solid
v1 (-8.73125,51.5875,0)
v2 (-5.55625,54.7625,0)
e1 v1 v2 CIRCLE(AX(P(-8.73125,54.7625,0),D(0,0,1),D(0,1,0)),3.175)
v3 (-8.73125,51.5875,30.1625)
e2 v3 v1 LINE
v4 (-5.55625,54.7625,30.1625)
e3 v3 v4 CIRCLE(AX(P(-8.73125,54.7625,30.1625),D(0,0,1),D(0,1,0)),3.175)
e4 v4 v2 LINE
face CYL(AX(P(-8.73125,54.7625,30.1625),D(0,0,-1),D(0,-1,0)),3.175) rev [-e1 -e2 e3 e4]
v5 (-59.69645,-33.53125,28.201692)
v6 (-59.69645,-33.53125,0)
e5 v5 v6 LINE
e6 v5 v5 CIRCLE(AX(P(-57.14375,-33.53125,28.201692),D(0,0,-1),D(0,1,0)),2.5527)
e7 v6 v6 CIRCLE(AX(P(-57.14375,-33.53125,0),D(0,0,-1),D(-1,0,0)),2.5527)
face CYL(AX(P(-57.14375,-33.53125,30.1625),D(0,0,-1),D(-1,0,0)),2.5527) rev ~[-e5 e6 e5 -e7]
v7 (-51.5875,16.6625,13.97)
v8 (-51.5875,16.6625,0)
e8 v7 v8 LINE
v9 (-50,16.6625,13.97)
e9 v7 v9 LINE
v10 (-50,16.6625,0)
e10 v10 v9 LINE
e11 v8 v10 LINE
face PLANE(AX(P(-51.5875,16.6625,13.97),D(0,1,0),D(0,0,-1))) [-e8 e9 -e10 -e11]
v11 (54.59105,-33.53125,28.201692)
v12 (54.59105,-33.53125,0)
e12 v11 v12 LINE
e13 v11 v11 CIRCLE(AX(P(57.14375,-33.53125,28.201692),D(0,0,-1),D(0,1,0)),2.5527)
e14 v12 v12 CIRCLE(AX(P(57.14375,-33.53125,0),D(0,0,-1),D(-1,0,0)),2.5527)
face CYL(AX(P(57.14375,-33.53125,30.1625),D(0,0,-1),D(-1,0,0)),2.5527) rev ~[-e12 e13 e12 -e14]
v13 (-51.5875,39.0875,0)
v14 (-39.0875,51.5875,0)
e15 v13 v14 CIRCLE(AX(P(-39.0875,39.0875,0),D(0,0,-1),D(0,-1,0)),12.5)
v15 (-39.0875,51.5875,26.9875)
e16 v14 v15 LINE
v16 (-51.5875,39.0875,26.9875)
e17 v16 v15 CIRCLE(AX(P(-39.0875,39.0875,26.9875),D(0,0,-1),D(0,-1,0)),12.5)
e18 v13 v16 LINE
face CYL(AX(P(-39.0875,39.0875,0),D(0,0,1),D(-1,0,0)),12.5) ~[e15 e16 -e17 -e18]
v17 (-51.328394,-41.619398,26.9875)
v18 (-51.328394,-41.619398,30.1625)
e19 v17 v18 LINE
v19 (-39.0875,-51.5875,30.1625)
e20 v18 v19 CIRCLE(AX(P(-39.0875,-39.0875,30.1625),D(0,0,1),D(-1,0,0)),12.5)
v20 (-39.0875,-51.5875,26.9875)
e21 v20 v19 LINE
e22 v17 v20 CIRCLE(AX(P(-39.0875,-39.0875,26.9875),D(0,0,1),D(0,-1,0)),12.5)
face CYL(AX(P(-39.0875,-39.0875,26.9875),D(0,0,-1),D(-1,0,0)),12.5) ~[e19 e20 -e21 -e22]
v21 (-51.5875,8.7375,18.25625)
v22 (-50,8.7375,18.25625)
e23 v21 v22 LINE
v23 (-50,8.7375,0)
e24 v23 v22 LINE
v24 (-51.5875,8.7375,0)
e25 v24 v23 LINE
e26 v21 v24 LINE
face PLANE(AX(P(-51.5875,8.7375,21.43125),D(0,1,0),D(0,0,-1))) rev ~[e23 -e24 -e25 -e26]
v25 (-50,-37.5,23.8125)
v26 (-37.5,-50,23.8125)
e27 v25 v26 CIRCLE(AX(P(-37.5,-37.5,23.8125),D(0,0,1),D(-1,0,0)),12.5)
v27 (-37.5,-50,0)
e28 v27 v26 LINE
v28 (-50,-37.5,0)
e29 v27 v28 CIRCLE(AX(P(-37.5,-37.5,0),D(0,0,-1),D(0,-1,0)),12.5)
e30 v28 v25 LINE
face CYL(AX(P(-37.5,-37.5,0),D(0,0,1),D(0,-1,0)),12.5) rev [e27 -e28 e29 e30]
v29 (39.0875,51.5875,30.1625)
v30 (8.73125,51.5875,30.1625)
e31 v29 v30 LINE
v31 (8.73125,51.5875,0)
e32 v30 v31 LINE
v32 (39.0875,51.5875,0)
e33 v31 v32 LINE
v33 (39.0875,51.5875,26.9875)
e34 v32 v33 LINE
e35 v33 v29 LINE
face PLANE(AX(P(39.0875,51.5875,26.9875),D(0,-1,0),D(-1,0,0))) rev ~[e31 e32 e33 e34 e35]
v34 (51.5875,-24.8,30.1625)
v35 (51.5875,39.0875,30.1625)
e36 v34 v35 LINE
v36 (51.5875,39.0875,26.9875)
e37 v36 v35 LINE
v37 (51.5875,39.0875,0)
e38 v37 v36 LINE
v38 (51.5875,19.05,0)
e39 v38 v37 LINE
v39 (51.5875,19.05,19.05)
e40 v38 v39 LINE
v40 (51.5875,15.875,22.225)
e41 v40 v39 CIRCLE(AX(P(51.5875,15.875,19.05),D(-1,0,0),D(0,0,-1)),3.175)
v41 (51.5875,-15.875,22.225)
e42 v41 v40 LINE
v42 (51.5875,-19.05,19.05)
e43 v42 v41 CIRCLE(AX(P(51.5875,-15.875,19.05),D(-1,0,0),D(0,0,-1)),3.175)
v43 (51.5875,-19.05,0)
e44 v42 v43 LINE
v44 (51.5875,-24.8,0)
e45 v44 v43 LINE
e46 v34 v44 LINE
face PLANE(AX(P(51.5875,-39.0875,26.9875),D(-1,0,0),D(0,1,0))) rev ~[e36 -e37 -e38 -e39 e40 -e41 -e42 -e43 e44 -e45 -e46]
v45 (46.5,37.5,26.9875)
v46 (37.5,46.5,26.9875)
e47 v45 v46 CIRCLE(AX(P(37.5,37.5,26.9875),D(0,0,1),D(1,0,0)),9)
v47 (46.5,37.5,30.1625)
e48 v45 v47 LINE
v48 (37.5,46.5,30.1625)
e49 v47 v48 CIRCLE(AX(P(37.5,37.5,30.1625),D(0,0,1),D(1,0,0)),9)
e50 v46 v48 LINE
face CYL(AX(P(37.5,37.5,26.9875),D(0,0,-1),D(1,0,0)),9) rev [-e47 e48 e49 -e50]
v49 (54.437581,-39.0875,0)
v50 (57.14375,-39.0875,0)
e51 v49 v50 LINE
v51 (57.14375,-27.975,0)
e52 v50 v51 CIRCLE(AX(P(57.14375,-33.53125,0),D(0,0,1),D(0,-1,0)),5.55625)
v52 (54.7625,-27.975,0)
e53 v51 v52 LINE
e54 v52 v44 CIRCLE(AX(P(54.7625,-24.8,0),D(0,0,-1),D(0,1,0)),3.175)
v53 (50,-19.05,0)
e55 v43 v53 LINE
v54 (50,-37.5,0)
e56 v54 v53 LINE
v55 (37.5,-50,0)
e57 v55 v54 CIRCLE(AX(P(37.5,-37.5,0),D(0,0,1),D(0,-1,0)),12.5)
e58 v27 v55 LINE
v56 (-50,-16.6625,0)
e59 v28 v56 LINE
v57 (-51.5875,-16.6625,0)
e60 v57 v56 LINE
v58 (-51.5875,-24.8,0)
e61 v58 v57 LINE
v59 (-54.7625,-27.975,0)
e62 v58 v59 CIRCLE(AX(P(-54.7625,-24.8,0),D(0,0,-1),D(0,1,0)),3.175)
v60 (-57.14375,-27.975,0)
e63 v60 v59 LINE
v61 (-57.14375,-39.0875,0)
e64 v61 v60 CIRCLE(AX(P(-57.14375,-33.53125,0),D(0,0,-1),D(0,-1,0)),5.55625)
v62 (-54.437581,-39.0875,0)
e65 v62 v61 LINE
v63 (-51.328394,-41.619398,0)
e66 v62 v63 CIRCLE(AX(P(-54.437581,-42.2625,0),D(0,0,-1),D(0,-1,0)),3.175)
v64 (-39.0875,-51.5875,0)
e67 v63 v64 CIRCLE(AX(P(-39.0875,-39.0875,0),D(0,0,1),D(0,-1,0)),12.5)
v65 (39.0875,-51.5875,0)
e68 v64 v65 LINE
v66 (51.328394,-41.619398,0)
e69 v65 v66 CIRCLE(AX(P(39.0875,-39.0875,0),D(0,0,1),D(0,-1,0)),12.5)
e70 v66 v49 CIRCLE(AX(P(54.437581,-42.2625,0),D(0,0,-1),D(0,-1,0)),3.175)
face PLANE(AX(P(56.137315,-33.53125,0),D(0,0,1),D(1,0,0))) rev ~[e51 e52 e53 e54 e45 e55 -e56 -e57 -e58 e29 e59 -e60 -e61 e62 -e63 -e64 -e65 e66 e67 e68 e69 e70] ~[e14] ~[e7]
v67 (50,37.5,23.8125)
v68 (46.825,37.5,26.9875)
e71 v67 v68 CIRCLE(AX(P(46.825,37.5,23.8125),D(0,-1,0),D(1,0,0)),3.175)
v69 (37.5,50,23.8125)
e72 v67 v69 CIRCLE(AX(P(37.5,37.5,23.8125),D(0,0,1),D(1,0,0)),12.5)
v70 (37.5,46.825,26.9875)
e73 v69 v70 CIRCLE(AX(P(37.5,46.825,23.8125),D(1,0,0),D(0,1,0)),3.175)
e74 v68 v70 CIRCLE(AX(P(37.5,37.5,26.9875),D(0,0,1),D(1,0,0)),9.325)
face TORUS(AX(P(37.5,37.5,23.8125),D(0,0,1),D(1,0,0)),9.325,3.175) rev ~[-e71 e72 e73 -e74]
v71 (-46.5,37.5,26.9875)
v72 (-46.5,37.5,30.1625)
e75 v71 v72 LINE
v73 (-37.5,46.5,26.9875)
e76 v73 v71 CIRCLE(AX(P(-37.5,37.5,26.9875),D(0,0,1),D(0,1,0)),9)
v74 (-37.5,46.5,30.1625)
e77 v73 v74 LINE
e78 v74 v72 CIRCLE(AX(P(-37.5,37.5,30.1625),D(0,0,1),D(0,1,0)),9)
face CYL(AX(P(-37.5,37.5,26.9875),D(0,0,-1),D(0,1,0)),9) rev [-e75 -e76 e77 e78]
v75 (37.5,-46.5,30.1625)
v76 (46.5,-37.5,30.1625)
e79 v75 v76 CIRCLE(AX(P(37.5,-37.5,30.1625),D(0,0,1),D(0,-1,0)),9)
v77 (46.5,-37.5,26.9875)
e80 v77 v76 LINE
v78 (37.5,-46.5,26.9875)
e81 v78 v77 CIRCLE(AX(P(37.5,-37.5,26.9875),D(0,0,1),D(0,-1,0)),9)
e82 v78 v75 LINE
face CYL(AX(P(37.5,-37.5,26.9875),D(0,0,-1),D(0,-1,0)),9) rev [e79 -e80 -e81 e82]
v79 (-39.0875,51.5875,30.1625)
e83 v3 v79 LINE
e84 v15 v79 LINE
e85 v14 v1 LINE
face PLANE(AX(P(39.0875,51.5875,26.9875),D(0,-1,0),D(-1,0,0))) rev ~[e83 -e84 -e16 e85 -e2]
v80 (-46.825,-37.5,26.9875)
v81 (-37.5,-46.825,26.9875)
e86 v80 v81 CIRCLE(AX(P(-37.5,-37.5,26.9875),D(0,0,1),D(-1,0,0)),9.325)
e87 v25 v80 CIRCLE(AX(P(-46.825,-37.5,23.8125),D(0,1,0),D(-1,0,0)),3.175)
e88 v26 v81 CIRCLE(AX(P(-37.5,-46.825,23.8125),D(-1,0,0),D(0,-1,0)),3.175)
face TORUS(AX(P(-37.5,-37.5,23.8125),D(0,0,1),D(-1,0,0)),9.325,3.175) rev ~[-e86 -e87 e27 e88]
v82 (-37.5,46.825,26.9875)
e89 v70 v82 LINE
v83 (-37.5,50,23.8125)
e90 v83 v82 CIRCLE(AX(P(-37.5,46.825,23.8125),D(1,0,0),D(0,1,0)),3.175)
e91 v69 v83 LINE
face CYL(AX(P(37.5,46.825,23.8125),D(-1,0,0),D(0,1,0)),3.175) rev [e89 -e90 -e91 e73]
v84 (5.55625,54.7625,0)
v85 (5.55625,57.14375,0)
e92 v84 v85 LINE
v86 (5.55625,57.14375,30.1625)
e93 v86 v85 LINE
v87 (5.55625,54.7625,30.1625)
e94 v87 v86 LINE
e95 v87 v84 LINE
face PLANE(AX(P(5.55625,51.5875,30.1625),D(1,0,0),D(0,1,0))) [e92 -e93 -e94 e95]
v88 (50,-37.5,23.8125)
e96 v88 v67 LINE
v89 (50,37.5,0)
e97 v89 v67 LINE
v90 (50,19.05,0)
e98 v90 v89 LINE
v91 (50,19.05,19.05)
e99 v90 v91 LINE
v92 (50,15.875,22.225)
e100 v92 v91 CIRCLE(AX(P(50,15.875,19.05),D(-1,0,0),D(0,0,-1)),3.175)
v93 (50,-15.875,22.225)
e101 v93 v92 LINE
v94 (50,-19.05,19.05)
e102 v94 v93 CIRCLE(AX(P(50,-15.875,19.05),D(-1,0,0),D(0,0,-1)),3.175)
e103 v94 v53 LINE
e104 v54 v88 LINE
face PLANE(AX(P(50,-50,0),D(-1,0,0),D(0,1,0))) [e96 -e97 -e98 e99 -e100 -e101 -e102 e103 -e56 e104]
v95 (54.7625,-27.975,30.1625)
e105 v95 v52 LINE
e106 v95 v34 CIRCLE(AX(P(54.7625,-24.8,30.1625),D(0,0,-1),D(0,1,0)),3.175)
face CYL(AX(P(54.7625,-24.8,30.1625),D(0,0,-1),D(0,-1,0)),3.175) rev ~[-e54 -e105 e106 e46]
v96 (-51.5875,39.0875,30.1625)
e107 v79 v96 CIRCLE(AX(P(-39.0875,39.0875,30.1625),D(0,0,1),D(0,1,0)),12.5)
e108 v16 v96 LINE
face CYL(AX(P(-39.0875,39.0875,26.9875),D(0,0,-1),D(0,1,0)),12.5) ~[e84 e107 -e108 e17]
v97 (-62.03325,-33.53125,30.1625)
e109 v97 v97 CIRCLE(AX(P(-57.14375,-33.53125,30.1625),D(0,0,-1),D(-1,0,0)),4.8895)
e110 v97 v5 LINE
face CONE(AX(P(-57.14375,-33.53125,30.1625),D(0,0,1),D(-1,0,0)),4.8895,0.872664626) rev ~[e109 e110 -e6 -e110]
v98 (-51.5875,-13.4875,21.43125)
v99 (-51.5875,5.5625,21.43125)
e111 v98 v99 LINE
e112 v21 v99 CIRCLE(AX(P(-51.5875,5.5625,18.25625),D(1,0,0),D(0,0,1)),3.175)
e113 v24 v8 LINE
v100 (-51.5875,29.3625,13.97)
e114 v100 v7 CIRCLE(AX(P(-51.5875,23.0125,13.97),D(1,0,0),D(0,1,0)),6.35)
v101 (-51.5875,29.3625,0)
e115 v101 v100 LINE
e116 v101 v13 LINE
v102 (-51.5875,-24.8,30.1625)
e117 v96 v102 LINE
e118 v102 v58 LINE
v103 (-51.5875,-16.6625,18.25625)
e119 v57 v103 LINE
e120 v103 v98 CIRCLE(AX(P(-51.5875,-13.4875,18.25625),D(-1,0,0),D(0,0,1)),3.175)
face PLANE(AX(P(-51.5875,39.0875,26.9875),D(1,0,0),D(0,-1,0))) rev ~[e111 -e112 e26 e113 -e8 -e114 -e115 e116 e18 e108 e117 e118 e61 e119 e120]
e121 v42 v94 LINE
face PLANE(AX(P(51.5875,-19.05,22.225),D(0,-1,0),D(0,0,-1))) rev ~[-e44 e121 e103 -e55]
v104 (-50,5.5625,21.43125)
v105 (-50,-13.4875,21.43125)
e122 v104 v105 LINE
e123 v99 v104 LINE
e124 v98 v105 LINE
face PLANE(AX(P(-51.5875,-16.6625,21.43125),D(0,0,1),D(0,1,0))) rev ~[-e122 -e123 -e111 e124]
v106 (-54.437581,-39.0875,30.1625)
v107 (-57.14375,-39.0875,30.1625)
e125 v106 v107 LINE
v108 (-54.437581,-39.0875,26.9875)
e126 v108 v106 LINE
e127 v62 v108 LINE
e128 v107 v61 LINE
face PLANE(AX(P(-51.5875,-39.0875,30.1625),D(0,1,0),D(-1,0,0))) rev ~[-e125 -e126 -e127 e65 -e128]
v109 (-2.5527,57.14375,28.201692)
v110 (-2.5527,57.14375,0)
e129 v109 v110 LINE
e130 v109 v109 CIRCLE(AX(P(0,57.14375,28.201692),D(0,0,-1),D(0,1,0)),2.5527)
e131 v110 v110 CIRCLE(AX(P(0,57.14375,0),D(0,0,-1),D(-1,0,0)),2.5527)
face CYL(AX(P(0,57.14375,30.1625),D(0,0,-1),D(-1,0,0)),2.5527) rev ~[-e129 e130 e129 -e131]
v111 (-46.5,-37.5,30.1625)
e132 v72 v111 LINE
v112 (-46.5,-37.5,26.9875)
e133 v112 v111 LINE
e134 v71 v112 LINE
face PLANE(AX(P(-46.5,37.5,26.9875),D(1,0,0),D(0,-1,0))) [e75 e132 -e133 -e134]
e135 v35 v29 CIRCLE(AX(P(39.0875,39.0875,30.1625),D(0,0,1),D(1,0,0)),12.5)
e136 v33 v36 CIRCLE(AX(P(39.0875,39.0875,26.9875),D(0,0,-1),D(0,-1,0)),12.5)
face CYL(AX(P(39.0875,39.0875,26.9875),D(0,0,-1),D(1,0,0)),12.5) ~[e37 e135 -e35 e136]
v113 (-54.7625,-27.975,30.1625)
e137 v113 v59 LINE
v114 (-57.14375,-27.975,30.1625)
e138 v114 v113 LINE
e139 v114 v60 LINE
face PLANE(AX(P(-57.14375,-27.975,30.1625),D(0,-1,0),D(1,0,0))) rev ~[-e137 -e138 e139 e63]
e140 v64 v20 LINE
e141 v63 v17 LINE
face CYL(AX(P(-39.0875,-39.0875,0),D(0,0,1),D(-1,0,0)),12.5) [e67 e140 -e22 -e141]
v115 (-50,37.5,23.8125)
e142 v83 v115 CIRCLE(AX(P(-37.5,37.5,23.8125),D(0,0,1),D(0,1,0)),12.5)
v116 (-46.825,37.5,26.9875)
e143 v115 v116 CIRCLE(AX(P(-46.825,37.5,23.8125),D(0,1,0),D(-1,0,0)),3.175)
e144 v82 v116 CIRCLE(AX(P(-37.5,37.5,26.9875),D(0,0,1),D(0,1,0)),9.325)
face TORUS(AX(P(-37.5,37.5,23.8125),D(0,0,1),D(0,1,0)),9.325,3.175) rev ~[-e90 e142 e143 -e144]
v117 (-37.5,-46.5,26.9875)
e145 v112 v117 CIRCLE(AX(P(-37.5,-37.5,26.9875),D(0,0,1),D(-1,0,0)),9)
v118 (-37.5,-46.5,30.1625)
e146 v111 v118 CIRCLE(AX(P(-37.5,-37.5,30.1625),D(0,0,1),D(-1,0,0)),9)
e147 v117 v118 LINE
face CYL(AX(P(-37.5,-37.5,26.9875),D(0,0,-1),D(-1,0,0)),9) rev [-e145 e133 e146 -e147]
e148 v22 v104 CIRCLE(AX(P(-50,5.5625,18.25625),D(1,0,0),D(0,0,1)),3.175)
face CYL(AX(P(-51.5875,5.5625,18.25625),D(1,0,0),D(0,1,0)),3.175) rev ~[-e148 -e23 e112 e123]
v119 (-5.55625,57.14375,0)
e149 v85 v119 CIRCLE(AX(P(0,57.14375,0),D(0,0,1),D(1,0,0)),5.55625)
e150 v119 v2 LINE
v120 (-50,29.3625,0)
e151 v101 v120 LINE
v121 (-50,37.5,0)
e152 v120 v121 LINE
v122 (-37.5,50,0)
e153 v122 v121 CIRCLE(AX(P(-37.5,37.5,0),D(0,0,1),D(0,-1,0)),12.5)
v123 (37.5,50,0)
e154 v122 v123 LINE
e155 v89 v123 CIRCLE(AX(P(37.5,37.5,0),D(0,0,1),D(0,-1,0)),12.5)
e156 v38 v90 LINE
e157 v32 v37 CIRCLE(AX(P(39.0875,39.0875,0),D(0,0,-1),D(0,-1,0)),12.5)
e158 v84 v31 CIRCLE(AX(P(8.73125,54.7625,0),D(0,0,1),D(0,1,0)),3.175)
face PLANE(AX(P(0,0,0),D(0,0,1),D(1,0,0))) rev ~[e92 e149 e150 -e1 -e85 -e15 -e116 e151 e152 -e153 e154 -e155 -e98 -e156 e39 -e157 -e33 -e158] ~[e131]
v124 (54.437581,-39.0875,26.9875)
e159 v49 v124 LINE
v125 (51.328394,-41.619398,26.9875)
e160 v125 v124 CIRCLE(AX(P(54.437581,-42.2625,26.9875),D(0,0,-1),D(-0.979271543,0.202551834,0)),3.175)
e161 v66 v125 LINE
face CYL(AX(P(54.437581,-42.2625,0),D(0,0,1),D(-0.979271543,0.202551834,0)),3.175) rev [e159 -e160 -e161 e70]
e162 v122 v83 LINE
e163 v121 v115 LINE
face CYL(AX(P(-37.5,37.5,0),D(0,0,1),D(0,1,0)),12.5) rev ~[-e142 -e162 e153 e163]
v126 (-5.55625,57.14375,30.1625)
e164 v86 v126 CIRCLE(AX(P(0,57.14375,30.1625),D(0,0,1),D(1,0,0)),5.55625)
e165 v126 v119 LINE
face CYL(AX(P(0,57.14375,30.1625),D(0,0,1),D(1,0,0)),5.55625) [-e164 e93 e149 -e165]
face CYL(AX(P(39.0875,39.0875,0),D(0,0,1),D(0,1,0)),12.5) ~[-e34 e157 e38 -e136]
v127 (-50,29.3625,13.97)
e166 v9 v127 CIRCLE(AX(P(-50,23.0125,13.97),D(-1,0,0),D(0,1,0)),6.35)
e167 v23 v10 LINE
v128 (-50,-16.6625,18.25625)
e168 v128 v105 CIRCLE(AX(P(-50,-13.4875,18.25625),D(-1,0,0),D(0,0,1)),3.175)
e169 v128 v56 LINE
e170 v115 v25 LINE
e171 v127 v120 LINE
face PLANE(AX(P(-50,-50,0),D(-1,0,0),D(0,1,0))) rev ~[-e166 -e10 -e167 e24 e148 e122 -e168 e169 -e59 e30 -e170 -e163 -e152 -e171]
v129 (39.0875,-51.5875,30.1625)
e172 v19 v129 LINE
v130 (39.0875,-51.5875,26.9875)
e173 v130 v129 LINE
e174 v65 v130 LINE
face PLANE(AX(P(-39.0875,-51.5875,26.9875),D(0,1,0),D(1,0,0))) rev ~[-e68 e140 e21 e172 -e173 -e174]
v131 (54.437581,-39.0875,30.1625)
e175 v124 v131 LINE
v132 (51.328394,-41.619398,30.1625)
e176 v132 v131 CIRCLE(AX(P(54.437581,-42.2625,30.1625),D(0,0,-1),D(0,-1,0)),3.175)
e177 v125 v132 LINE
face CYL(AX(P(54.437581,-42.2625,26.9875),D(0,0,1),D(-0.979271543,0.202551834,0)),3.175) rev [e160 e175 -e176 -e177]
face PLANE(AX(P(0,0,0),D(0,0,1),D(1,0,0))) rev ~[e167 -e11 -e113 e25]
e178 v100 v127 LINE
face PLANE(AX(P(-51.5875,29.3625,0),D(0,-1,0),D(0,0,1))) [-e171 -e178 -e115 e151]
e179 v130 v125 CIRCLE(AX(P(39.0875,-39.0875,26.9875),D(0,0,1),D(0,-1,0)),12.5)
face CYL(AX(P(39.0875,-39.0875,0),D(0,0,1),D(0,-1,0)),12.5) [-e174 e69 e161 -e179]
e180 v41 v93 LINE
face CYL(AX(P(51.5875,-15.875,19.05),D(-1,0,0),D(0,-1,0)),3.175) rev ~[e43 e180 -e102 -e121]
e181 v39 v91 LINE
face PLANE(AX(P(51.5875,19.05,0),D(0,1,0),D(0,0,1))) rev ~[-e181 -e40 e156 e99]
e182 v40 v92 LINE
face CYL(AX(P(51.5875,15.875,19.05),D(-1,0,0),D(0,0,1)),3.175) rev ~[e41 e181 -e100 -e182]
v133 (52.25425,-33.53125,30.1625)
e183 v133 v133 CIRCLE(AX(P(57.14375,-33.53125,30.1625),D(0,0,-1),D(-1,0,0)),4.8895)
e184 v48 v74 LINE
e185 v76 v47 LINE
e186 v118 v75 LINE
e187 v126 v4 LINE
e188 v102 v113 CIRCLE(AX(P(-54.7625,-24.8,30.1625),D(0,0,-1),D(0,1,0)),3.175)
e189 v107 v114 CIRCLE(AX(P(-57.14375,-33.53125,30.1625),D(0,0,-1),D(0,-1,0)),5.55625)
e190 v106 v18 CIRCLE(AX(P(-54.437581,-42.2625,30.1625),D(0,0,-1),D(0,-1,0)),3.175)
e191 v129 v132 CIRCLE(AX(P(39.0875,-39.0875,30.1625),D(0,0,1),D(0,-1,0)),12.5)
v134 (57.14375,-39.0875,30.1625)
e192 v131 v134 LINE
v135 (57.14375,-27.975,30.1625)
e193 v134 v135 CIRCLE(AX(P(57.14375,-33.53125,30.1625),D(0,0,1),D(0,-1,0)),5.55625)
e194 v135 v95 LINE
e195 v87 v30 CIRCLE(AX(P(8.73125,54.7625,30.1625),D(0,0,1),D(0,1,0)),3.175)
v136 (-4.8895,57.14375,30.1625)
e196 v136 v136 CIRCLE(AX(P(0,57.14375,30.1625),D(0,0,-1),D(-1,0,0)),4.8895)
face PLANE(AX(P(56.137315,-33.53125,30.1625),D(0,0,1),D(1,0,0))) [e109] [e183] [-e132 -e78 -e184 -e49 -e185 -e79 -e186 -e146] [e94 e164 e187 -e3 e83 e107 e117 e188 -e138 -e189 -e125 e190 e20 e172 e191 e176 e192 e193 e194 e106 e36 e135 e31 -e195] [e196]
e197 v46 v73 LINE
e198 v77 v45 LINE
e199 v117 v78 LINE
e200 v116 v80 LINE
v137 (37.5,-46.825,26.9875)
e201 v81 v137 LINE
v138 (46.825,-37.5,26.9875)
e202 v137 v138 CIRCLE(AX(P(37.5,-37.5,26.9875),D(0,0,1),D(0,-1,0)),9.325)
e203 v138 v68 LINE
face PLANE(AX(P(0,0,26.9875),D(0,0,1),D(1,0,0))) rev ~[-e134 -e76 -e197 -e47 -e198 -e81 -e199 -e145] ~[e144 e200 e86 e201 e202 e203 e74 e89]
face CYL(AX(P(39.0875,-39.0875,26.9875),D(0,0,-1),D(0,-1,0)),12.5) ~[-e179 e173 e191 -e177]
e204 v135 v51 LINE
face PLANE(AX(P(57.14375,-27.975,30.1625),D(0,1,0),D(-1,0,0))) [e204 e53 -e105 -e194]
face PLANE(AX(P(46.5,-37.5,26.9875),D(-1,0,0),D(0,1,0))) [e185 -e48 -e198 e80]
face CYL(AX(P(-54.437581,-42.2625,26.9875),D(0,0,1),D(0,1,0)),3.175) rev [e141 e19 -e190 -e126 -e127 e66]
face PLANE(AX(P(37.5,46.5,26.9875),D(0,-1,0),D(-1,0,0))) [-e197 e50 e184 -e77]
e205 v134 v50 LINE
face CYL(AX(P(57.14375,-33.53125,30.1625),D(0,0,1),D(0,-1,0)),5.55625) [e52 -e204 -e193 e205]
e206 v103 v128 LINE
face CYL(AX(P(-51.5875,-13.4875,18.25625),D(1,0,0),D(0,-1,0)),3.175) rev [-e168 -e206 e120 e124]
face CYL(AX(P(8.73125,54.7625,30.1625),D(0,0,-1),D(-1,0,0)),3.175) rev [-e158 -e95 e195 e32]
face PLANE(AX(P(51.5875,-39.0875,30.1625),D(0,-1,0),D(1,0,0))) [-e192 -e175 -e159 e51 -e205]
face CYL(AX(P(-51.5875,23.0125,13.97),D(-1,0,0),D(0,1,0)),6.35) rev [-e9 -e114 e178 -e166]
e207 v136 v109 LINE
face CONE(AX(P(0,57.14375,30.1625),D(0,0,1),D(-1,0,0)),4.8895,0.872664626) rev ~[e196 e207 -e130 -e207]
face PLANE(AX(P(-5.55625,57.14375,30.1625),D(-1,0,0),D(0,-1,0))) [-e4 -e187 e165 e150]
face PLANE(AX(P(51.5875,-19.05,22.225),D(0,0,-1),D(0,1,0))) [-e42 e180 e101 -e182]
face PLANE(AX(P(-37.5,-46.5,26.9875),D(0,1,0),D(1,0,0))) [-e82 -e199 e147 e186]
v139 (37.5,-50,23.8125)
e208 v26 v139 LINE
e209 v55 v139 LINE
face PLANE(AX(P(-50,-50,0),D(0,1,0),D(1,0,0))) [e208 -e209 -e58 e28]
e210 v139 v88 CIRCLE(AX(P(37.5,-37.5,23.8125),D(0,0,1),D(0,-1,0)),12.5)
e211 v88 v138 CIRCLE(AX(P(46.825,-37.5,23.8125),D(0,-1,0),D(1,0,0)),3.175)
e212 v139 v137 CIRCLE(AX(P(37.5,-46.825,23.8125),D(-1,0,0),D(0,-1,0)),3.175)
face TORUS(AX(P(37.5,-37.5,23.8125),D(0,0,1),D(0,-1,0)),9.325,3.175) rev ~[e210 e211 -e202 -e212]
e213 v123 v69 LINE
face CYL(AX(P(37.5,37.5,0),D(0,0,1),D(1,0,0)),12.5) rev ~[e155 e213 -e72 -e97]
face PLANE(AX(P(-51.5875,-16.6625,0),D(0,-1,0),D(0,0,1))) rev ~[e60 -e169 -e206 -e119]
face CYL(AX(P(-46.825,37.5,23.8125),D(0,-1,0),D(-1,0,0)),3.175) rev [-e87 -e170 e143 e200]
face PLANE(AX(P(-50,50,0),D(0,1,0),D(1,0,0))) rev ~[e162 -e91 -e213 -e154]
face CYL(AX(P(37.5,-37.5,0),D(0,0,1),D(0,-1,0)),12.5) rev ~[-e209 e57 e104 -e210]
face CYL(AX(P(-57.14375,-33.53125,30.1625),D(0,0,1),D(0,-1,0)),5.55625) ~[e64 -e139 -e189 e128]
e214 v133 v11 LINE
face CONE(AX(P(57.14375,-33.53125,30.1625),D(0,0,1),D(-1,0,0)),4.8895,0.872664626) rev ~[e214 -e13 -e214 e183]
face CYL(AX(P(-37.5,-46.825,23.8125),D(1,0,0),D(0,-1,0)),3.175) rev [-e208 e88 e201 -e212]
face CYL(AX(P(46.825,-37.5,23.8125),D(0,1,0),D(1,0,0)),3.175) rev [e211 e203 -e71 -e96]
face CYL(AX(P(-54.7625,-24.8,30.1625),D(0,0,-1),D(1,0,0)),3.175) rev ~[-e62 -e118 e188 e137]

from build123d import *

# Parameters (mm, degrees)
SKETCH1_W                                          = 103.175
SKETCH1_H                                          = 103.175
SKETCH1_W_2                                        = 100
SKETCH1_H_2                                        = 100
BOSS_EXTRUDE1_DEPTH                                = 26.9875
FILLET1_R                                          = 12.5
FILLET2_R                                          = 12.5
BOSS_EXTRUDE2_DEPTH                                = 3.175
CUT_EXTRUDE1_REACH                                 = 105.175
CUT_EXTRUDE2_REACH                                 = 105.175
CUT_EXTRUDE3_REACH                                 = 105.175
FILLET5_R                                          = 3.175
BOSS_EXTRUDE3_DEPTH                                = 30.1625
CSK_FOR_10_FLAT_HEAD_MACHINE_SCREW_100_D           = 5.1054
CSK_FOR_10_FLAT_HEAD_MACHINE_SCREW_100_DEPTH       = 30.1625
CSK_FOR_10_FLAT_HEAD_MACHINE_SCREW_100_CSINK_D     = 9.779
CSK_FOR_10_FLAT_HEAD_MACHINE_SCREW_100_CSINK_ANGLE = 100
FILLET4_R                                          = 3.175


with BuildPart() as part:
    # Sketch1 → Boss-Extrude1 (new body)
    with BuildSketch(Plane.XY):
        Rectangle(SKETCH1_W, SKETCH1_H)
        Rectangle(SKETCH1_W_2, SKETCH1_H_2, mode=Mode.SUBTRACT)
    extrude(amount=BOSS_EXTRUDE1_DEPTH)

    # Fillet1
    fillet1_edges = [part.edges().sort_by_distance(p)[0] for p in [
        (50, -50, 13.49375),
        (50, 50, 13.49375),
        (-50, 50, 13.49375),
        (-50, -50, 13.49375),
    ]]
    fillet(fillet1_edges, radius=FILLET1_R)

    # Fillet2
    fillet2_edges = [part.edges().sort_by_distance(p)[0] for p in [
        (51.5875, -51.5875, 13.49375),
        (-51.5875, -51.5875, 13.49375),
        (-51.5875, 51.5875, 13.49375),
        (51.5875, 51.5875, 13.49375),
    ]]
    fillet(fillet2_edges, radius=FILLET2_R)

    # Sketch2 → Boss-Extrude2 (add)
    with BuildSketch(Plane.XY.offset(26.9875)):
        with BuildLine():
            Line((-39.0875, -51.5875), (39.0875, -51.5875))
            ThreePointArc((39.0875, -51.5875), (47.926334765, -47.926334765), (51.5875, -39.0875))
            Line((51.5875, -39.0875), (51.5875, 39.0875))
            ThreePointArc((51.5875, 39.0875), (47.926334765, 47.926334765), (39.0875, 51.5875))
            Line((39.0875, 51.5875), (-39.0875, 51.5875))
            ThreePointArc((-39.0875, 51.5875), (-47.926334765, 47.926334765), (-51.5875, 39.0875))
            Line((-51.5875, 39.0875), (-51.5875, -39.0875))
            ThreePointArc((-51.5875, -39.0875), (-47.926334765, -47.926334765), (-39.0875, -51.5875))
        make_face()
        with BuildLine():
            Line((46.5, -37.5), (46.5, 37.5))
            ThreePointArc((46.5, 37.5), (43.863961031, 43.863961031), (37.5, 46.5))
            Line((37.5, 46.5), (-37.5, 46.5))
            ThreePointArc((-37.5, 46.5), (-43.863961031, 43.863961031), (-46.5, 37.5))
            Line((-46.5, 37.5), (-46.5, -37.5))
            ThreePointArc((-46.5, -37.5), (-43.863961031, -43.863961031), (-37.5, -46.5))
            Line((-37.5, -46.5), (37.5, -46.5))
            ThreePointArc((37.5, -46.5), (43.863961031, -43.863961031), (46.5, -37.5))
        make_face(mode=Mode.SUBTRACT)
    extrude(amount=BOSS_EXTRUDE2_DEPTH)

    # Sketch3 → Cut-Extrude1 (cut, up to next)
    with BuildSketch(Plane.ZY.offset(51.5875), mode=Mode.PRIVATE) as cut_extrude1_sk1:
        with BuildLine():
            Line((0, 29.3625), (13.97, 29.3625))
            ThreePointArc((13.97, 29.3625), (20.32, 23.0125), (13.97, 16.6625))
            Line((13.97, 16.6625), (0, 16.6625))
            ThreePointArc((0, 16.6625), (-6.35, 23.0125), (0, 29.3625))
        make_face()
    cut_extrude1_tool1 = extrude(cut_extrude1_sk1.sketch, amount=-CUT_EXTRUDE1_REACH, mode=Mode.PRIVATE) & part.part
    add(cut_extrude1_tool1.solids().sort_by_distance((-51.5875, 23.0125, 6.985))[0], mode=Mode.SUBTRACT)

    # Sketch5 → Cut-Extrude2 (cut, up to next)
    with BuildSketch(Plane.ZY.offset(51.5875), mode=Mode.PRIVATE) as cut_extrude2_sk1:
        Polygon((8.73125, -16.6625), (21.43125, -16.6625), (21.43125, 8.7375), (8.73125, 8.7375), (0, 8.7375), (0, -16.6625), align=None)
    cut_extrude2_tool1 = extrude(cut_extrude2_sk1.sketch, amount=-CUT_EXTRUDE2_REACH, mode=Mode.PRIVATE) & part.part
    add(cut_extrude2_tool1.solids().sort_by_distance((-51.5875, -3.9625, 10.715625))[0], mode=Mode.SUBTRACT)

    # Sketch6 → Cut-Extrude3 (cut, up to next)
    with BuildSketch(Plane(origin=(51.5875, 0, 0), x_dir=(0, 0, -1), z_dir=(1, 0, 0)), mode=Mode.PRIVATE) as cut_extrude3_sk1:
        Polygon((-3.175, -19.05), (-22.225, -19.05), (-22.225, 19.05), (-3.175, 19.05), (0, 19.05), (0, -19.05), align=None)
    cut_extrude3_tool1 = extrude(cut_extrude3_sk1.sketch, amount=-CUT_EXTRUDE3_REACH, mode=Mode.PRIVATE) & part.part
    add(cut_extrude3_tool1.solids().sort_by_distance((51.5875, 0, 11.1125))[0], mode=Mode.SUBTRACT)

    # Fillet5
    fillet5_edges = [part.edges().sort_by_distance(p)[0] for p in [
        (-50.79375, -16.6625, 21.43125),
        (-50.79375, 8.7375, 21.43125),
        (50.79375, 19.05, 22.225),
        (50.79375, -19.05, 22.225),
        (50, 0, 26.9875),
        (0, 50, 26.9875),
        (0, -50, 26.9875),
        (-50, 0, 26.9875),
        (46.338834765, 46.338834765, 26.9875),
        (46.338834765, -46.338834765, 26.9875),
        (-46.338834765, -46.338834765, 26.9875),
        (-46.338834765, 46.338834765, 26.9875),
    ]]
    fillet(fillet5_edges, radius=FILLET5_R)

    # Sketch7 → Boss-Extrude3 (add)
    with BuildSketch(Plane.XY.offset(30.1625)):
        with BuildLine():
            Line((57.14375, -27.975), (51.5875, -27.975))
            Line((51.5875, -27.975), (51.5875, -39.0875))
            Line((51.5875, -39.0875), (57.14375, -39.0875))
            ThreePointArc((57.14375, -39.0875), (62.7, -33.53125), (57.14375, -27.975))
        make_face()
        with BuildLine():
            Line((-51.5875, -39.0875), (-57.14375, -39.0875))
            ThreePointArc((-57.14375, -39.0875), (-62.7, -33.53125), (-57.14375, -27.975))
            Line((-57.14375, -27.975), (-51.5875, -27.975))
            Line((-51.5875, -27.975), (-51.5875, -39.0875))
        make_face()
        with BuildLine():
            Line((-5.55625, 51.5875), (5.55625, 51.5875))
            Line((5.55625, 51.5875), (5.55625, 57.14375))
            ThreePointArc((5.55625, 57.14375), (0, 62.7), (-5.55625, 57.14375))
            Line((-5.55625, 57.14375), (-5.55625, 51.5875))
        make_face()
    extrude(amount=-BOSS_EXTRUDE3_DEPTH)

    # CSK for #10 Flat Head Machine Screw (100)1
    with Locations(Plane(origin=(57.14375, -33.53125, 30.1625), x_dir=(1, 0, 0), z_dir=(0, 0, 1))):
        with Locations((0, 0), (-114.2875, 0), (-57.14375, 90.675)):
            CounterSinkHole(CSK_FOR_10_FLAT_HEAD_MACHINE_SCREW_100_D / 2, CSK_FOR_10_FLAT_HEAD_MACHINE_SCREW_100_CSINK_D / 2, depth=CSK_FOR_10_FLAT_HEAD_MACHINE_SCREW_100_DEPTH, counter_sink_angle=CSK_FOR_10_FLAT_HEAD_MACHINE_SCREW_100_CSINK_ANGLE)

    # Fillet4
    fillet4_edges = [part.edges().sort_by_distance(p)[0] for p in [
        (51.5875, -27.975, 15.08125),
        (-51.5875, -27.975, 15.08125),
        (5.55625, 51.5875, 15.08125),
        (-5.55625, 51.5875, 15.08125),
        (51.5875, -39.0875, 15.08125),
        (-51.5875, -39.0875, 15.08125),
    ]]
    fillet(fillet4_edges, radius=FILLET4_R)


solid = part.part
